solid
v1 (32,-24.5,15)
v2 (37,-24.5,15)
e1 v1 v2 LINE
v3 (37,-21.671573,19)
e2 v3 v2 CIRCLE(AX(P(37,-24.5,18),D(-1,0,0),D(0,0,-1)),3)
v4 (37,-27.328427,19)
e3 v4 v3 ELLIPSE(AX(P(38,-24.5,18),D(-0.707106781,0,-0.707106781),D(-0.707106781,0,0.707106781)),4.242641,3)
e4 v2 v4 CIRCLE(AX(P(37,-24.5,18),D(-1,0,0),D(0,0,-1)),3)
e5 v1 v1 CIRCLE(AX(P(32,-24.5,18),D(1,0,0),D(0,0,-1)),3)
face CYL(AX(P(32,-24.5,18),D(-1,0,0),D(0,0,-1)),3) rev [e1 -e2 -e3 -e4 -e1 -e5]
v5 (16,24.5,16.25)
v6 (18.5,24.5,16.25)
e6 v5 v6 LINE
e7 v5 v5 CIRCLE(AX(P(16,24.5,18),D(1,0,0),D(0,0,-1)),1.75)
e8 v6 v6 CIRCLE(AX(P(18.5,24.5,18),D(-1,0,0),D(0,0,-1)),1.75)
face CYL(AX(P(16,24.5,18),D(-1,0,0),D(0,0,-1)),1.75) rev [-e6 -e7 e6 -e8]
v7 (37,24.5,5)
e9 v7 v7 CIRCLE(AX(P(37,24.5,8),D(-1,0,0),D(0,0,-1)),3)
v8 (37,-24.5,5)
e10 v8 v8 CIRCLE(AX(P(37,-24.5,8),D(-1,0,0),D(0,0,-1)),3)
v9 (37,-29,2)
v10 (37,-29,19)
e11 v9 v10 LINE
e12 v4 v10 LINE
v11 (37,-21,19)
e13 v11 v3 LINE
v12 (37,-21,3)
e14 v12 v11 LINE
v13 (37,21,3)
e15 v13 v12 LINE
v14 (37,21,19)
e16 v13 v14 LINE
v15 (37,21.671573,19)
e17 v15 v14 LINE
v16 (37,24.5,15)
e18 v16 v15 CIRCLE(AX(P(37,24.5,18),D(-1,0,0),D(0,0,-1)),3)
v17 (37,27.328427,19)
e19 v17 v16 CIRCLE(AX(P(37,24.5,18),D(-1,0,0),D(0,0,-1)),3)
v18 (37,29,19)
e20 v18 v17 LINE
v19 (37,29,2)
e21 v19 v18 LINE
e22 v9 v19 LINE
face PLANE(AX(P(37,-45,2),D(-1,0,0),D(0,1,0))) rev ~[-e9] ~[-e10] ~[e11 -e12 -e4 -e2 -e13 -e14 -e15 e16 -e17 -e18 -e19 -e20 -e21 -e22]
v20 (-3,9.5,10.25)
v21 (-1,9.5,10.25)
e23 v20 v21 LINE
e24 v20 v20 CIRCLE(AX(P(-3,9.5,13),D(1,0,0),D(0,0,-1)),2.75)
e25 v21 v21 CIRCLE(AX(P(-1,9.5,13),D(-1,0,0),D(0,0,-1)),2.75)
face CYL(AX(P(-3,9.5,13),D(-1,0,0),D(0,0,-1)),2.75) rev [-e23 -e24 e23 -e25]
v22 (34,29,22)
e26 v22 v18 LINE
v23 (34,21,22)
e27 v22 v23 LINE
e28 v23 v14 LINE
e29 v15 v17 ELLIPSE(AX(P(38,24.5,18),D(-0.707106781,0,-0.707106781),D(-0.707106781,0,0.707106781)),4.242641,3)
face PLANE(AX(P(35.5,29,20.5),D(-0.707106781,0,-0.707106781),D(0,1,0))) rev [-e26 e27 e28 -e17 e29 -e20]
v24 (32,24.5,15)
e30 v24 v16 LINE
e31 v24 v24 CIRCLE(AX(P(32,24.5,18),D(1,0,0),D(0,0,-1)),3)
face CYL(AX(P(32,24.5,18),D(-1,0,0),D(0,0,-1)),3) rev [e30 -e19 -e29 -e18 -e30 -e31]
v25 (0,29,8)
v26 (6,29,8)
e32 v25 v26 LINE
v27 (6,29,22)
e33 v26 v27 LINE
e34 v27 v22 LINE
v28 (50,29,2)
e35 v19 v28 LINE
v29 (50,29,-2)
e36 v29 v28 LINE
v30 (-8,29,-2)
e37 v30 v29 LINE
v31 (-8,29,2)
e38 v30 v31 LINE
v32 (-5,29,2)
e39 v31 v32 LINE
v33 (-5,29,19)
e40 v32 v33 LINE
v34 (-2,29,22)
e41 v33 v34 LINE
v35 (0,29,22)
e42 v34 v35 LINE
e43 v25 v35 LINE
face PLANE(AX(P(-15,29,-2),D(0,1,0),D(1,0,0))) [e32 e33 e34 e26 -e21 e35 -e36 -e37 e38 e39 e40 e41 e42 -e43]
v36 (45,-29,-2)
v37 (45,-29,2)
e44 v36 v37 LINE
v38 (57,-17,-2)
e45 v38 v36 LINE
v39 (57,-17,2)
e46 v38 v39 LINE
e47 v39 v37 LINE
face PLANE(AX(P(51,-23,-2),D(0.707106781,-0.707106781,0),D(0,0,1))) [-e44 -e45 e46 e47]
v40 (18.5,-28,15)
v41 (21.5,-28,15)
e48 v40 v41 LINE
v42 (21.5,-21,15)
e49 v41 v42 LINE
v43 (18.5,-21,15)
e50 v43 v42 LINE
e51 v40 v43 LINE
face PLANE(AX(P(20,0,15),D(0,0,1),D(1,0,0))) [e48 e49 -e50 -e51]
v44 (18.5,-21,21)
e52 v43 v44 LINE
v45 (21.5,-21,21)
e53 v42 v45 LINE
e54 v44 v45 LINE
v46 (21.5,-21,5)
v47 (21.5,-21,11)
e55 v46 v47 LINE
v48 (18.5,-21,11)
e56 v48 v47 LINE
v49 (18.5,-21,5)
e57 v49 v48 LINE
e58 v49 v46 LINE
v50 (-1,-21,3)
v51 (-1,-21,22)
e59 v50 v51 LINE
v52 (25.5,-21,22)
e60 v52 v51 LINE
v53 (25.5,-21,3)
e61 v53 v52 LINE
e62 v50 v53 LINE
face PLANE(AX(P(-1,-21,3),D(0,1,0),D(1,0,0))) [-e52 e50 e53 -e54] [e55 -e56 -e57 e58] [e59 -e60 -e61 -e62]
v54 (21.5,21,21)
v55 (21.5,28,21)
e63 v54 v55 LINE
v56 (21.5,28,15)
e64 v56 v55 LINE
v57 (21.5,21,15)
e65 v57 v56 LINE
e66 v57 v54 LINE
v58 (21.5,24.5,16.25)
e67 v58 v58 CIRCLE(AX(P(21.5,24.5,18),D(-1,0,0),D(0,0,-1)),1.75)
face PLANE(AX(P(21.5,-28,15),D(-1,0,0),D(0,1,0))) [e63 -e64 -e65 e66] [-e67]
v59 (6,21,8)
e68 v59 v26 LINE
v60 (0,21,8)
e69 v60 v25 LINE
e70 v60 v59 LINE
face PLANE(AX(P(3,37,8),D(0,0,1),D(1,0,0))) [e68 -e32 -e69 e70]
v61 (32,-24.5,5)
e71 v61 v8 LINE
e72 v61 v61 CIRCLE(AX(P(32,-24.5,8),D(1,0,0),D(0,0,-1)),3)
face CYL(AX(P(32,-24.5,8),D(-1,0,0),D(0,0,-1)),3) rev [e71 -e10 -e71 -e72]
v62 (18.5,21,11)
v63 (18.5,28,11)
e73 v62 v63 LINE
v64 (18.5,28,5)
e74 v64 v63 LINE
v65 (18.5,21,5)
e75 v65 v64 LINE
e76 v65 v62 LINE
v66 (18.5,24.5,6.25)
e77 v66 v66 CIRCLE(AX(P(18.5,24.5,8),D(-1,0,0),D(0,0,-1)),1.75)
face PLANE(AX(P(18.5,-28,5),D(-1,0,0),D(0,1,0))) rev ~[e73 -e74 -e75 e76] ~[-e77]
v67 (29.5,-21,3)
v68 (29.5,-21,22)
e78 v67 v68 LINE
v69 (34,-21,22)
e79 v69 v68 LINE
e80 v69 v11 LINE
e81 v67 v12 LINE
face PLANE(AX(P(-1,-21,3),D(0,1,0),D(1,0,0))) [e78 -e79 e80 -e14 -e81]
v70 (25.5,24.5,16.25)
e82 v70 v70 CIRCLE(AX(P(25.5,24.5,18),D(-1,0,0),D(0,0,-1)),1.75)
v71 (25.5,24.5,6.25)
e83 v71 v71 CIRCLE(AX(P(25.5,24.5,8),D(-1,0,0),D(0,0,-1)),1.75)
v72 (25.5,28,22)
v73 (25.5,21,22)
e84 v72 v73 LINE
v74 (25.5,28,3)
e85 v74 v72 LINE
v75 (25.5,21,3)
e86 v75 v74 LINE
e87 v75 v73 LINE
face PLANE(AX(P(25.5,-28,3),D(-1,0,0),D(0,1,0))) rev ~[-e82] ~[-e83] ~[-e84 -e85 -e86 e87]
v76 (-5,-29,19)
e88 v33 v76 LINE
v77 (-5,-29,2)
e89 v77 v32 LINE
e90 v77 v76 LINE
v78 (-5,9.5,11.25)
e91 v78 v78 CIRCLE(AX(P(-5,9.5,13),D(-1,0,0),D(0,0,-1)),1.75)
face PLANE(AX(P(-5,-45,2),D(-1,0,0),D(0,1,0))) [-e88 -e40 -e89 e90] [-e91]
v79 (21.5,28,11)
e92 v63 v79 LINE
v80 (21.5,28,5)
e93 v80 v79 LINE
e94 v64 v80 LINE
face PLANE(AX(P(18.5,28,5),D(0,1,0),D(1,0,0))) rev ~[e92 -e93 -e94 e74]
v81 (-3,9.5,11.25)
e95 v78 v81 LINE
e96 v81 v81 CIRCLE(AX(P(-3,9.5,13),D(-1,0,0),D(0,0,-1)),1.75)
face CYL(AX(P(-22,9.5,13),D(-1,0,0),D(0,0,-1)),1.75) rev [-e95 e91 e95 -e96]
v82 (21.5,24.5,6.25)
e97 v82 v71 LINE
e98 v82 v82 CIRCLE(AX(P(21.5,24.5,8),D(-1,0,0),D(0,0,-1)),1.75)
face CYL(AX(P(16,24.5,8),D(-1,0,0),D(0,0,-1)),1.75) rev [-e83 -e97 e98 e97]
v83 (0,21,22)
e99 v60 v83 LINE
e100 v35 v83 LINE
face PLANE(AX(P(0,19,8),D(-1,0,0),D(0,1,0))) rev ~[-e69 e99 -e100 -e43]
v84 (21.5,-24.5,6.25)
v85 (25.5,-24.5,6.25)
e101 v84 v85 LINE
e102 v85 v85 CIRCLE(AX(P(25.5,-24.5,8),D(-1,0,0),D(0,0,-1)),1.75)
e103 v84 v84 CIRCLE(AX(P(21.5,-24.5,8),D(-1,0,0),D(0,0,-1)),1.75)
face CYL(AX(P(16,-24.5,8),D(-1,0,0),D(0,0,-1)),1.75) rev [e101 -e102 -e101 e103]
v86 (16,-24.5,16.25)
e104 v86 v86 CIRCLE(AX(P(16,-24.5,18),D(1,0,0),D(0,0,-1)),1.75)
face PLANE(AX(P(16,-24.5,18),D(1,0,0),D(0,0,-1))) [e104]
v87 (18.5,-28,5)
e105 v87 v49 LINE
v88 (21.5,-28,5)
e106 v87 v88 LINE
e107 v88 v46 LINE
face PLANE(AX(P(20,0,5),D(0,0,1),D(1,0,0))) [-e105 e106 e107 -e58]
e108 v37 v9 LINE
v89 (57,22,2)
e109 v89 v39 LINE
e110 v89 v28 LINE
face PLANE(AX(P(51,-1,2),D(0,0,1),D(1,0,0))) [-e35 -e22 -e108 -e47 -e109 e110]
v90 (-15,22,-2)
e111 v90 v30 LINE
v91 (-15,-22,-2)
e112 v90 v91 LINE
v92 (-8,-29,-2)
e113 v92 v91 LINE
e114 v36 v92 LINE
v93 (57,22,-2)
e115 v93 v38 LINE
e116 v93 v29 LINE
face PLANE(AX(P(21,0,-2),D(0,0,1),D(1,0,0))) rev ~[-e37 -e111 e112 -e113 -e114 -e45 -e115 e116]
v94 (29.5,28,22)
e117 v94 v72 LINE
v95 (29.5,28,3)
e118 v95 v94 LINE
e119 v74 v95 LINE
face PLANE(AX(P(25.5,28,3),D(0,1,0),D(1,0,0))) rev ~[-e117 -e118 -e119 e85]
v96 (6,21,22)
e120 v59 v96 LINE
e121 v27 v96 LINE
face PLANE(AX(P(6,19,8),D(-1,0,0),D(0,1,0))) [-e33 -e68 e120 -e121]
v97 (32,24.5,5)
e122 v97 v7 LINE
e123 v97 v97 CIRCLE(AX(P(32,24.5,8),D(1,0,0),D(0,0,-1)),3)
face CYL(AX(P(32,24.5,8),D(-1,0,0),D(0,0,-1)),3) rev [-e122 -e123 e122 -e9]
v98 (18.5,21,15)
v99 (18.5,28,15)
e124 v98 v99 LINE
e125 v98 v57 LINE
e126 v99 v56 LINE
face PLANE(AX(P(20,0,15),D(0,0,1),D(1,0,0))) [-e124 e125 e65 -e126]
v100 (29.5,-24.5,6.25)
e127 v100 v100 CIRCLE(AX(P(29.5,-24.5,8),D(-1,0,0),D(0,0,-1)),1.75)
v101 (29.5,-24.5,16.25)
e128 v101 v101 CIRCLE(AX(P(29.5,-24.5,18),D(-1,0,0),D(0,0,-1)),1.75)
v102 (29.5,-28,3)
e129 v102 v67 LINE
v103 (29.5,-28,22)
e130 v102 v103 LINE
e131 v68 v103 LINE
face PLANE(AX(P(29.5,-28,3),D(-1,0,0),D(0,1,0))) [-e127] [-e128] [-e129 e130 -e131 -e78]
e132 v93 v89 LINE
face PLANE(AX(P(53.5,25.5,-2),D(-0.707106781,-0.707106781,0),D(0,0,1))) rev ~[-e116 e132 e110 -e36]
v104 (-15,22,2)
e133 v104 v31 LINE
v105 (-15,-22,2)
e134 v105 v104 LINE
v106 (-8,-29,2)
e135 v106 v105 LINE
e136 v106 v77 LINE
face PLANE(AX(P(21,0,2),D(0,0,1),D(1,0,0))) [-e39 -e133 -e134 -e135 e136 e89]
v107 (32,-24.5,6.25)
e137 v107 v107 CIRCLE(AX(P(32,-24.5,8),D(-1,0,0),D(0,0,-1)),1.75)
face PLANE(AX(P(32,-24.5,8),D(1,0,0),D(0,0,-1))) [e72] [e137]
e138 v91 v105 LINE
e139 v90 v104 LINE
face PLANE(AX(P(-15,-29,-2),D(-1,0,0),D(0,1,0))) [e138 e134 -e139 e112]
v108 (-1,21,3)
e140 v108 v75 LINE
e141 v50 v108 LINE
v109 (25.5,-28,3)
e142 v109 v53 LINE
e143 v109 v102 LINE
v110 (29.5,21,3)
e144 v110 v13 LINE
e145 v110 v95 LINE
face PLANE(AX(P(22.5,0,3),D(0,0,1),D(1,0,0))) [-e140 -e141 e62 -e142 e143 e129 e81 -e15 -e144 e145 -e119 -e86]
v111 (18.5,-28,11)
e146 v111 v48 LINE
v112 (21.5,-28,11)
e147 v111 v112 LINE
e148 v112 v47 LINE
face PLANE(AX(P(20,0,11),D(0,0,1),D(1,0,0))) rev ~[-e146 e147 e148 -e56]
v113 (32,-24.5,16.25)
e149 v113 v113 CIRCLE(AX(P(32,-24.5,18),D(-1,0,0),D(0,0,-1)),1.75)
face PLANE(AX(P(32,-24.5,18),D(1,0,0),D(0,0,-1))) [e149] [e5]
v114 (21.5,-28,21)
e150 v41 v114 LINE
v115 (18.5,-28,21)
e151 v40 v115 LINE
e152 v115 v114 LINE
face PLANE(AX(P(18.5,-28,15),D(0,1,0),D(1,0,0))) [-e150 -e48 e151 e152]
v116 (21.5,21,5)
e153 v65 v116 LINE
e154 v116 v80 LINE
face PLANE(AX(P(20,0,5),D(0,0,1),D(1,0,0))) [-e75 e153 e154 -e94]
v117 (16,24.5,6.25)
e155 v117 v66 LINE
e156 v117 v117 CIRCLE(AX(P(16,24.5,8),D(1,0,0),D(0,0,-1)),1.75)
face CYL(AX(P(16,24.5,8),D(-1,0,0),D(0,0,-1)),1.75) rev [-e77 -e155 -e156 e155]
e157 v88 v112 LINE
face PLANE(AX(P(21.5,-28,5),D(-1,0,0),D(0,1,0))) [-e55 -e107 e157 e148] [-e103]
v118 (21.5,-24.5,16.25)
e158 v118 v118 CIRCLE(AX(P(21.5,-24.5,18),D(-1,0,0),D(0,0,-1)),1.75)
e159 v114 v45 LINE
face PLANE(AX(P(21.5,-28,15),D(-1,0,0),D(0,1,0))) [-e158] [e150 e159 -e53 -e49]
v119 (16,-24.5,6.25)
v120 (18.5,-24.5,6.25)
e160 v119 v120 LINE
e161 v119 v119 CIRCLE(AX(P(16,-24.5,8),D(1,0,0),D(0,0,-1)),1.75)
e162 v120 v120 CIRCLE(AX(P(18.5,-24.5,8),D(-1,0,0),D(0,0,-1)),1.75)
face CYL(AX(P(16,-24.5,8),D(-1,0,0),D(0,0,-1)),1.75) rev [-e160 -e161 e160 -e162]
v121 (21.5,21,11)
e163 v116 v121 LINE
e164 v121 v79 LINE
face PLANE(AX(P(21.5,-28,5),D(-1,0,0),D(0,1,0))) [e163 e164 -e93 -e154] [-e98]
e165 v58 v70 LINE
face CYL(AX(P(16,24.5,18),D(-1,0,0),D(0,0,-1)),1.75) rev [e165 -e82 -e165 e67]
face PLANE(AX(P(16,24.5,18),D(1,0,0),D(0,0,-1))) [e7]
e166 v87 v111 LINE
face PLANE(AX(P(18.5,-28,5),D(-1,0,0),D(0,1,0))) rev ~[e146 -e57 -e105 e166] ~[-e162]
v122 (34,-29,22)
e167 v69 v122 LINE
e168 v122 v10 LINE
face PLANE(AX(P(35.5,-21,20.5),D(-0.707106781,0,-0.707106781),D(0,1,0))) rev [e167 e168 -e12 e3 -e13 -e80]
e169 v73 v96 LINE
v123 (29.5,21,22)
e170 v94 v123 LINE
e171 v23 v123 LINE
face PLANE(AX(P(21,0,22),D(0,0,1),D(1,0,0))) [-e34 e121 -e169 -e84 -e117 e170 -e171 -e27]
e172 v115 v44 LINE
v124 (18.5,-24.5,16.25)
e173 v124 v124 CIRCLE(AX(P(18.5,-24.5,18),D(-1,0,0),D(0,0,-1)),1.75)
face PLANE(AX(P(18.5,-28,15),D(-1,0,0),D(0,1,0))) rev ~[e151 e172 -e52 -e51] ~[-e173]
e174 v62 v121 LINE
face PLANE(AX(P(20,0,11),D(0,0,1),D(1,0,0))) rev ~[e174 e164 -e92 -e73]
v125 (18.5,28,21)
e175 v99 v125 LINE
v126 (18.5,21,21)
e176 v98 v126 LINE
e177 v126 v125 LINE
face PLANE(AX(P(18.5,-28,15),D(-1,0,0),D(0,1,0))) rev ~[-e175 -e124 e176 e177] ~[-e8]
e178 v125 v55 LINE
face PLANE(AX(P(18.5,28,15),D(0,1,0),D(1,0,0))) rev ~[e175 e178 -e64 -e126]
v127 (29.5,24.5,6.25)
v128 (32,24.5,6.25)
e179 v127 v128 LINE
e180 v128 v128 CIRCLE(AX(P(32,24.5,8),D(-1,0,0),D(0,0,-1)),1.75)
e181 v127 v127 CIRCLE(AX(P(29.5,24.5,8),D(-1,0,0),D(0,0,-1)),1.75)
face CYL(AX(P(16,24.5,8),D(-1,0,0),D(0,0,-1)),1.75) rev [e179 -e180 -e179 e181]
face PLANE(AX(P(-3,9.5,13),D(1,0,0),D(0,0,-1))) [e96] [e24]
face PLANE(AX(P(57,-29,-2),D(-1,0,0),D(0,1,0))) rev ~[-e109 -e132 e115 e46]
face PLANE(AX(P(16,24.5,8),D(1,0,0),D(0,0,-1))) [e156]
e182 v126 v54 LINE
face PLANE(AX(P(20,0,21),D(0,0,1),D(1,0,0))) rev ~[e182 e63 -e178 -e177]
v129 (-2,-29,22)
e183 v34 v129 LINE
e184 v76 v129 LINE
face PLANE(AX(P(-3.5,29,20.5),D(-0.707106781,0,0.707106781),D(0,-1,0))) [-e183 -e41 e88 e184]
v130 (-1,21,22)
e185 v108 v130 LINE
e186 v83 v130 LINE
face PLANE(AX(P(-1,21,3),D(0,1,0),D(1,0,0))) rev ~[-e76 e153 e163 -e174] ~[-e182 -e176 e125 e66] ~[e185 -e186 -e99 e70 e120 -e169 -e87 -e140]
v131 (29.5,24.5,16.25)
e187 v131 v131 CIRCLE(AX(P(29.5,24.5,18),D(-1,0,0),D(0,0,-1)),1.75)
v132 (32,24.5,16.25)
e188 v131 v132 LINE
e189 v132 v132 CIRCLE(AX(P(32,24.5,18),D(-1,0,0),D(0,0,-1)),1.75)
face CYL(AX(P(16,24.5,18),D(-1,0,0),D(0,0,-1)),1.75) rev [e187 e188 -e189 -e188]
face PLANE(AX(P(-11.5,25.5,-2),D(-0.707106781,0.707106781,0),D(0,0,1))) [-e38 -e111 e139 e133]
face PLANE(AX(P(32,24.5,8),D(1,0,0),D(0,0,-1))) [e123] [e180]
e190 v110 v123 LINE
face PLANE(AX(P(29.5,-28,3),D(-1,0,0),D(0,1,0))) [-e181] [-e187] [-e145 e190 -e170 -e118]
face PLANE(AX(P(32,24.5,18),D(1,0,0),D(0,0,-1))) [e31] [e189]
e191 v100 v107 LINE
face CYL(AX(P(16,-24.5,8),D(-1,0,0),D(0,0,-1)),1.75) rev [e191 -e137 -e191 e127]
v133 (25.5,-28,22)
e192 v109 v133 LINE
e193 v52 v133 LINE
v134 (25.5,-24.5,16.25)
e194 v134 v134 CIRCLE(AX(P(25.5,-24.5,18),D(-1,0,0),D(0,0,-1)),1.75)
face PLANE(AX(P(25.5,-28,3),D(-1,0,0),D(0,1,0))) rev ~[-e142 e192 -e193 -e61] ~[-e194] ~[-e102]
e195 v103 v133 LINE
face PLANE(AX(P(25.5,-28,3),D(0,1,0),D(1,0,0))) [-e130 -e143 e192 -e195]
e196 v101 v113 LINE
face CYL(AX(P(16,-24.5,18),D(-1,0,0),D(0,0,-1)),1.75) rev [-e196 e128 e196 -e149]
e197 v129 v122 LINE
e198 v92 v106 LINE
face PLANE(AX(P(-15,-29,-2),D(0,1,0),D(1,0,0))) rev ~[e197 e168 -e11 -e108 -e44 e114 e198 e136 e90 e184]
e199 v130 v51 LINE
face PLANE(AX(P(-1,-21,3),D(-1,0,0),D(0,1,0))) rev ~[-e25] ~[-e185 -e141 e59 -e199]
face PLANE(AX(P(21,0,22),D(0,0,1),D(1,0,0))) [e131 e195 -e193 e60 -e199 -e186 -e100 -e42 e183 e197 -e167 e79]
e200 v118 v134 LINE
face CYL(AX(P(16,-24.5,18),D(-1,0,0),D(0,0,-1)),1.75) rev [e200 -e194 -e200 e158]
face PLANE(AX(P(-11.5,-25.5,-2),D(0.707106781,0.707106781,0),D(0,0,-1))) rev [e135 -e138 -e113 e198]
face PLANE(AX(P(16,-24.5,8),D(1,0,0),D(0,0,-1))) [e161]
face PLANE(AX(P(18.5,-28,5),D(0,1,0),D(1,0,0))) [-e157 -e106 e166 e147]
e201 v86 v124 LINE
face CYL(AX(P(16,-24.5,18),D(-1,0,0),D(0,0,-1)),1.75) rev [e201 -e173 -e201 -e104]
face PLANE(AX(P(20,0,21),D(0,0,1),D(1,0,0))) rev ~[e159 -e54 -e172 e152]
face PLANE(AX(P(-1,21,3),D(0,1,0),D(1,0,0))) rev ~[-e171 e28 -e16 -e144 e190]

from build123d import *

# Parameters (mm, degrees)
BOX056_W                = 72
BOX056_H                = 58
BOX056_DEPTH            = 4
BOX024_W                = 6
BOX024_H                = 36
BOX024_DEPTH            = 23
CYLINDER011_R           = 2.75
CYLINDER011_DEPTH       = 74.5
CYLINDER011_PITCH_ANGLE = 90
CYLINDER008_R           = 1.75
CYLINDER008_DEPTH       = 21.5
CYLINDER008_PITCH_ANGLE = 90
CYLINDER009_R           = 3
CYLINDER009_DEPTH       = 21.5
CYLINDER009_PITCH_ANGLE = 90
BOX007_W                = 3
BOX007_H                = 56
BOX007_DEPTH            = 6
BOX008_W                = 3
BOX008_H                = 56
BOX008_DEPTH            = 6
BOX006_W                = 4
BOX006_H                = 56
BOX006_DEPTH            = 21
CYLINDER003_R           = 1.75
CYLINDER003_DEPTH       = 74.5
CYLINDER003_PITCH_ANGLE = 90
BOX003_W                = 28
BOX003_H                = 88
BOX003_DEPTH            = 38
BOX002_W                = 28
BOX002_H                = 88
BOX002_DEPTH            = 38
BOX001_W                = 47
BOX001_H                = 42
BOX001_DEPTH            = 25
BOX_W                   = 72
BOX_H                   = 58
BOX_DEPTH               = 24
FILLET_R                = 10
CHAMFER_SIZE            = 3
CHAMFER110_1_SIZE       = 12
CHAMFER110_2_SIZE       = 7


with BuildPart() as cubo006:
    # Box056 → Box056 (new body)
    with BuildSketch(Plane(origin=(-15, -29, -2), x_dir=(1, 0, 0), z_dir=(0, 0, 1))):
        with Locations((36, 29)):
            Rectangle(BOX056_W, BOX056_H)
    extrude(amount=BOX056_DEPTH)


with BuildPart() as cube024:
    # Box024 → Box024 (new body)
    with BuildSketch(Plane(origin=(0, 19, 7), x_dir=(1, 0, 0), z_dir=(0, 0, 1))):
        with Locations((3, 18)):
            Rectangle(BOX024_W, BOX024_H)
    extrude(amount=BOX024_DEPTH)


with BuildPart() as joint_d013:
    # Cylinder011 → Cylinder011 (new body)
    with BuildSketch(Plane.XY):
        Circle(CYLINDER011_R)
    extrude(amount=CYLINDER011_DEPTH)


with BuildPart() as joint_d013_1:
    # Cylinder011 pitch: moved
    add(joint_d013.part.rotate(Axis((0, 0, 0), (0, 1, 0)), CYLINDER011_PITCH_ANGLE))


with BuildPart() as joint_d013_2:
    # Cylinder011 placement: moved
    add(joint_d013_1.part.moved(Location((-3, 9.5, 12))))


with BuildPart() as joint_d010:
    # Cylinder008 → Cylinder008 (new body)
    with BuildSketch(Plane.XY):
        Circle(CYLINDER008_R)
    extrude(amount=CYLINDER008_DEPTH)


with BuildPart() as joint_d010_1:
    # Cylinder008 pitch: moved
    add(joint_d010.part.rotate(Axis((0, 0, 0), (0, 1, 0)), CYLINDER008_PITCH_ANGLE))


with BuildPart() as joint_d010_2:
    # Cylinder008 placement: moved
    add(joint_d010_1.part.moved(Location((16, -24.5, 7))))


with BuildPart() as joint_d011:
    # Cylinder009 → Cylinder009 (new body)
    with BuildSketch(Plane.XY):
        Circle(CYLINDER009_R)
    extrude(amount=CYLINDER009_DEPTH)


with BuildPart() as joint_d011_1:
    # Cylinder009 pitch: moved
    add(joint_d011.part.rotate(Axis((0, 0, 0), (0, 1, 0)), CYLINDER009_PITCH_ANGLE))


with BuildPart() as joint_d011_2:
    # Cylinder009 placement: moved
    add(joint_d011_1.part.moved(Location((32, -24.5, 7))))


with BuildPart() as fusion001:
    # Fusion001 base: copy of Joint-D011
    add(joint_d011_2.part)

    # Fusion001: union Joint-D010
    add(joint_d010_2.part)


with BuildPart() as fusion002:
    # Fusion002 base: copy of Joint-D011
    add(joint_d011_2.part)

    # Fusion002: union Joint-D010
    add(joint_d010_2.part)


with BuildPart() as fusion002_1:
    # Fusion002 placement: moved
    add(fusion002.part.moved(Location((0, 0, 10))))


with BuildPart() as fusion003:
    # Fusion003 base: copy of Joint-D011
    add(joint_d011_2.part)

    # Fusion003: union Joint-D010
    add(joint_d010_2.part)


with BuildPart() as fusion003_1:
    # Fusion003 placement: moved
    add(fusion003.part.moved(Location((0, 49, 0))))


with BuildPart() as fusion004:
    # Fusion004 base: copy of Joint-D011
    add(joint_d011_2.part)

    # Fusion004: union Joint-D010
    add(joint_d010_2.part)


with BuildPart() as fusion004_1:
    # Fusion004 placement: moved
    add(fusion004.part.moved(Location((0, 49, 10))))


with BuildPart() as cube007:
    # Box007 → Box007 (new body)
    with BuildSketch(Plane(origin=(18.5, -28, 4), x_dir=(1, 0, 0), z_dir=(0, 0, 1))):
        with Locations((1.5, 28)):
            Rectangle(BOX007_W, BOX007_H)
    extrude(amount=BOX007_DEPTH)


with BuildPart() as cube008:
    # Box008 → Box008 (new body)
    with BuildSketch(Plane(origin=(18.5, -28, 14), x_dir=(1, 0, 0), z_dir=(0, 0, 1))):
        with Locations((1.5, 28)):
            Rectangle(BOX008_W, BOX008_H)
    extrude(amount=BOX008_DEPTH)


with BuildPart() as cube006:
    # Box006 → Box006 (new body)
    with BuildSketch(Plane(origin=(25.5, -28, 2), x_dir=(1, 0, 0), z_dir=(0, 0, 1))):
        with Locations((2, 28)):
            Rectangle(BOX006_W, BOX006_H)
    extrude(amount=BOX006_DEPTH)


with BuildPart() as joint_d005:
    # Cylinder003 → Cylinder003 (new body)
    with BuildSketch(Plane.XY):
        Circle(CYLINDER003_R)
    extrude(amount=CYLINDER003_DEPTH)


with BuildPart() as joint_d005_1:
    # Cylinder003 pitch: moved
    add(joint_d005.part.rotate(Axis((0, 0, 0), (0, 1, 0)), CYLINDER003_PITCH_ANGLE))


with BuildPart() as joint_d005_2:
    # Cylinder003 placement: moved
    add(joint_d005_1.part.moved(Location((-22, 9.5, 12))))


with BuildPart() as cube003:
    # Box003 → Box003 (new body)
    with BuildSketch(Plane(origin=(-33, -45, 1), x_dir=(1, 0, 0), z_dir=(0, 0, 1))):
        with Locations((14, 44)):
            Rectangle(BOX003_W, BOX003_H)
    extrude(amount=BOX003_DEPTH)


with BuildPart() as cube002:
    # Box002 → Box002 (new body)
    with BuildSketch(Plane(origin=(37, -45, 1), x_dir=(1, 0, 0), z_dir=(0, 0, 1))):
        with Locations((14, 44)):
            Rectangle(BOX002_W, BOX002_H)
    extrude(amount=BOX002_DEPTH)


with BuildPart() as cube001:
    # Box001 → Box001 (new body)
    with BuildSketch(Plane(origin=(-1, -21, 2), x_dir=(1, 0, 0), z_dir=(0, 0, 1))):
        with Locations((23.5, 21)):
            Rectangle(BOX001_W, BOX001_H)
    extrude(amount=BOX001_DEPTH)


with BuildPart() as foot_src:
    # Box → Box (new body)
    with BuildSketch(Plane(origin=(-15, -29, -3), x_dir=(1, 0, 0), z_dir=(0, 0, 1))):
        with Locations((36, 29)):
            Rectangle(BOX_W, BOX_H)
    extrude(amount=BOX_DEPTH)

    # Cut: cut Cube001
    add(cube001.part, mode=Mode.SUBTRACT)

    # Cut001: cut Cube002
    add(cube002.part, mode=Mode.SUBTRACT)

    # Cut002: cut Cube003
    add(cube003.part, mode=Mode.SUBTRACT)

    # Fillet
    fillet_edges = [foot_src.edges().sort_by_distance(p)[0] for p in [
        (-15, -29, -1),
        (-15, 29, -1),
        (57, -29, -1),
        (57, 29, -1),
    ]]
    fillet(fillet_edges, radius=FILLET_R)

    # Chamfer
    chamfer_edges = [foot_src.edges().sort_by_distance(p)[0] for p in [
        (-5, 0, 21),
        (37, 25, 21),
        (37, -25, 21),
    ]]
    chamfer(chamfer_edges, length=CHAMFER_SIZE)

    # Cut008: cut Joint-D005
    add(joint_d005_2.part, mode=Mode.SUBTRACT)

    # Cut010: cut Cube006
    add(cube006.part, mode=Mode.SUBTRACT)

    # Cut011: cut Cube008
    add(cube008.part, mode=Mode.SUBTRACT)

    # Cut012: cut Cube007
    add(cube007.part, mode=Mode.SUBTRACT)

    # Cut013: cut Fusion004
    add(fusion004_1.part, mode=Mode.SUBTRACT)

    # Cut014: cut Fusion003
    add(fusion003_1.part, mode=Mode.SUBTRACT)

    # Cut015: cut Fusion002
    add(fusion002_1.part, mode=Mode.SUBTRACT)

    # Cut016: cut Fusion001
    add(fusion001.part, mode=Mode.SUBTRACT)

    # Cut017: cut Joint-D013
    add(joint_d013_2.part, mode=Mode.SUBTRACT)

    # Cut039: cut Cube024
    add(cube024.part, mode=Mode.SUBTRACT)


with BuildPart() as foot_src_1:
    # Cut039 placement: moved
    add(foot_src.part.moved(Location((0, 0, 1))))

    # Fusion060: union Cubo006
    add(cubo006.part)

    # Chamfer110 1
    chamfer110_1_edges = [foot_src_1.edges().sort_by_distance(p)[0] for p in [
        (57, -29, 0),
    ]]
    chamfer(chamfer110_1_edges, length=CHAMFER110_1_SIZE)

    # Chamfer110 2
    chamfer110_2_edges = [foot_src_1.edges().sort_by_distance(p)[0] for p in [
        (-15, -29, 0),
        (57, 29, 0),
        (-15, 29, 0),
    ]]
    chamfer(chamfer110_2_edges, length=CHAMFER110_2_SIZE)


solid = foot_src_1.part
